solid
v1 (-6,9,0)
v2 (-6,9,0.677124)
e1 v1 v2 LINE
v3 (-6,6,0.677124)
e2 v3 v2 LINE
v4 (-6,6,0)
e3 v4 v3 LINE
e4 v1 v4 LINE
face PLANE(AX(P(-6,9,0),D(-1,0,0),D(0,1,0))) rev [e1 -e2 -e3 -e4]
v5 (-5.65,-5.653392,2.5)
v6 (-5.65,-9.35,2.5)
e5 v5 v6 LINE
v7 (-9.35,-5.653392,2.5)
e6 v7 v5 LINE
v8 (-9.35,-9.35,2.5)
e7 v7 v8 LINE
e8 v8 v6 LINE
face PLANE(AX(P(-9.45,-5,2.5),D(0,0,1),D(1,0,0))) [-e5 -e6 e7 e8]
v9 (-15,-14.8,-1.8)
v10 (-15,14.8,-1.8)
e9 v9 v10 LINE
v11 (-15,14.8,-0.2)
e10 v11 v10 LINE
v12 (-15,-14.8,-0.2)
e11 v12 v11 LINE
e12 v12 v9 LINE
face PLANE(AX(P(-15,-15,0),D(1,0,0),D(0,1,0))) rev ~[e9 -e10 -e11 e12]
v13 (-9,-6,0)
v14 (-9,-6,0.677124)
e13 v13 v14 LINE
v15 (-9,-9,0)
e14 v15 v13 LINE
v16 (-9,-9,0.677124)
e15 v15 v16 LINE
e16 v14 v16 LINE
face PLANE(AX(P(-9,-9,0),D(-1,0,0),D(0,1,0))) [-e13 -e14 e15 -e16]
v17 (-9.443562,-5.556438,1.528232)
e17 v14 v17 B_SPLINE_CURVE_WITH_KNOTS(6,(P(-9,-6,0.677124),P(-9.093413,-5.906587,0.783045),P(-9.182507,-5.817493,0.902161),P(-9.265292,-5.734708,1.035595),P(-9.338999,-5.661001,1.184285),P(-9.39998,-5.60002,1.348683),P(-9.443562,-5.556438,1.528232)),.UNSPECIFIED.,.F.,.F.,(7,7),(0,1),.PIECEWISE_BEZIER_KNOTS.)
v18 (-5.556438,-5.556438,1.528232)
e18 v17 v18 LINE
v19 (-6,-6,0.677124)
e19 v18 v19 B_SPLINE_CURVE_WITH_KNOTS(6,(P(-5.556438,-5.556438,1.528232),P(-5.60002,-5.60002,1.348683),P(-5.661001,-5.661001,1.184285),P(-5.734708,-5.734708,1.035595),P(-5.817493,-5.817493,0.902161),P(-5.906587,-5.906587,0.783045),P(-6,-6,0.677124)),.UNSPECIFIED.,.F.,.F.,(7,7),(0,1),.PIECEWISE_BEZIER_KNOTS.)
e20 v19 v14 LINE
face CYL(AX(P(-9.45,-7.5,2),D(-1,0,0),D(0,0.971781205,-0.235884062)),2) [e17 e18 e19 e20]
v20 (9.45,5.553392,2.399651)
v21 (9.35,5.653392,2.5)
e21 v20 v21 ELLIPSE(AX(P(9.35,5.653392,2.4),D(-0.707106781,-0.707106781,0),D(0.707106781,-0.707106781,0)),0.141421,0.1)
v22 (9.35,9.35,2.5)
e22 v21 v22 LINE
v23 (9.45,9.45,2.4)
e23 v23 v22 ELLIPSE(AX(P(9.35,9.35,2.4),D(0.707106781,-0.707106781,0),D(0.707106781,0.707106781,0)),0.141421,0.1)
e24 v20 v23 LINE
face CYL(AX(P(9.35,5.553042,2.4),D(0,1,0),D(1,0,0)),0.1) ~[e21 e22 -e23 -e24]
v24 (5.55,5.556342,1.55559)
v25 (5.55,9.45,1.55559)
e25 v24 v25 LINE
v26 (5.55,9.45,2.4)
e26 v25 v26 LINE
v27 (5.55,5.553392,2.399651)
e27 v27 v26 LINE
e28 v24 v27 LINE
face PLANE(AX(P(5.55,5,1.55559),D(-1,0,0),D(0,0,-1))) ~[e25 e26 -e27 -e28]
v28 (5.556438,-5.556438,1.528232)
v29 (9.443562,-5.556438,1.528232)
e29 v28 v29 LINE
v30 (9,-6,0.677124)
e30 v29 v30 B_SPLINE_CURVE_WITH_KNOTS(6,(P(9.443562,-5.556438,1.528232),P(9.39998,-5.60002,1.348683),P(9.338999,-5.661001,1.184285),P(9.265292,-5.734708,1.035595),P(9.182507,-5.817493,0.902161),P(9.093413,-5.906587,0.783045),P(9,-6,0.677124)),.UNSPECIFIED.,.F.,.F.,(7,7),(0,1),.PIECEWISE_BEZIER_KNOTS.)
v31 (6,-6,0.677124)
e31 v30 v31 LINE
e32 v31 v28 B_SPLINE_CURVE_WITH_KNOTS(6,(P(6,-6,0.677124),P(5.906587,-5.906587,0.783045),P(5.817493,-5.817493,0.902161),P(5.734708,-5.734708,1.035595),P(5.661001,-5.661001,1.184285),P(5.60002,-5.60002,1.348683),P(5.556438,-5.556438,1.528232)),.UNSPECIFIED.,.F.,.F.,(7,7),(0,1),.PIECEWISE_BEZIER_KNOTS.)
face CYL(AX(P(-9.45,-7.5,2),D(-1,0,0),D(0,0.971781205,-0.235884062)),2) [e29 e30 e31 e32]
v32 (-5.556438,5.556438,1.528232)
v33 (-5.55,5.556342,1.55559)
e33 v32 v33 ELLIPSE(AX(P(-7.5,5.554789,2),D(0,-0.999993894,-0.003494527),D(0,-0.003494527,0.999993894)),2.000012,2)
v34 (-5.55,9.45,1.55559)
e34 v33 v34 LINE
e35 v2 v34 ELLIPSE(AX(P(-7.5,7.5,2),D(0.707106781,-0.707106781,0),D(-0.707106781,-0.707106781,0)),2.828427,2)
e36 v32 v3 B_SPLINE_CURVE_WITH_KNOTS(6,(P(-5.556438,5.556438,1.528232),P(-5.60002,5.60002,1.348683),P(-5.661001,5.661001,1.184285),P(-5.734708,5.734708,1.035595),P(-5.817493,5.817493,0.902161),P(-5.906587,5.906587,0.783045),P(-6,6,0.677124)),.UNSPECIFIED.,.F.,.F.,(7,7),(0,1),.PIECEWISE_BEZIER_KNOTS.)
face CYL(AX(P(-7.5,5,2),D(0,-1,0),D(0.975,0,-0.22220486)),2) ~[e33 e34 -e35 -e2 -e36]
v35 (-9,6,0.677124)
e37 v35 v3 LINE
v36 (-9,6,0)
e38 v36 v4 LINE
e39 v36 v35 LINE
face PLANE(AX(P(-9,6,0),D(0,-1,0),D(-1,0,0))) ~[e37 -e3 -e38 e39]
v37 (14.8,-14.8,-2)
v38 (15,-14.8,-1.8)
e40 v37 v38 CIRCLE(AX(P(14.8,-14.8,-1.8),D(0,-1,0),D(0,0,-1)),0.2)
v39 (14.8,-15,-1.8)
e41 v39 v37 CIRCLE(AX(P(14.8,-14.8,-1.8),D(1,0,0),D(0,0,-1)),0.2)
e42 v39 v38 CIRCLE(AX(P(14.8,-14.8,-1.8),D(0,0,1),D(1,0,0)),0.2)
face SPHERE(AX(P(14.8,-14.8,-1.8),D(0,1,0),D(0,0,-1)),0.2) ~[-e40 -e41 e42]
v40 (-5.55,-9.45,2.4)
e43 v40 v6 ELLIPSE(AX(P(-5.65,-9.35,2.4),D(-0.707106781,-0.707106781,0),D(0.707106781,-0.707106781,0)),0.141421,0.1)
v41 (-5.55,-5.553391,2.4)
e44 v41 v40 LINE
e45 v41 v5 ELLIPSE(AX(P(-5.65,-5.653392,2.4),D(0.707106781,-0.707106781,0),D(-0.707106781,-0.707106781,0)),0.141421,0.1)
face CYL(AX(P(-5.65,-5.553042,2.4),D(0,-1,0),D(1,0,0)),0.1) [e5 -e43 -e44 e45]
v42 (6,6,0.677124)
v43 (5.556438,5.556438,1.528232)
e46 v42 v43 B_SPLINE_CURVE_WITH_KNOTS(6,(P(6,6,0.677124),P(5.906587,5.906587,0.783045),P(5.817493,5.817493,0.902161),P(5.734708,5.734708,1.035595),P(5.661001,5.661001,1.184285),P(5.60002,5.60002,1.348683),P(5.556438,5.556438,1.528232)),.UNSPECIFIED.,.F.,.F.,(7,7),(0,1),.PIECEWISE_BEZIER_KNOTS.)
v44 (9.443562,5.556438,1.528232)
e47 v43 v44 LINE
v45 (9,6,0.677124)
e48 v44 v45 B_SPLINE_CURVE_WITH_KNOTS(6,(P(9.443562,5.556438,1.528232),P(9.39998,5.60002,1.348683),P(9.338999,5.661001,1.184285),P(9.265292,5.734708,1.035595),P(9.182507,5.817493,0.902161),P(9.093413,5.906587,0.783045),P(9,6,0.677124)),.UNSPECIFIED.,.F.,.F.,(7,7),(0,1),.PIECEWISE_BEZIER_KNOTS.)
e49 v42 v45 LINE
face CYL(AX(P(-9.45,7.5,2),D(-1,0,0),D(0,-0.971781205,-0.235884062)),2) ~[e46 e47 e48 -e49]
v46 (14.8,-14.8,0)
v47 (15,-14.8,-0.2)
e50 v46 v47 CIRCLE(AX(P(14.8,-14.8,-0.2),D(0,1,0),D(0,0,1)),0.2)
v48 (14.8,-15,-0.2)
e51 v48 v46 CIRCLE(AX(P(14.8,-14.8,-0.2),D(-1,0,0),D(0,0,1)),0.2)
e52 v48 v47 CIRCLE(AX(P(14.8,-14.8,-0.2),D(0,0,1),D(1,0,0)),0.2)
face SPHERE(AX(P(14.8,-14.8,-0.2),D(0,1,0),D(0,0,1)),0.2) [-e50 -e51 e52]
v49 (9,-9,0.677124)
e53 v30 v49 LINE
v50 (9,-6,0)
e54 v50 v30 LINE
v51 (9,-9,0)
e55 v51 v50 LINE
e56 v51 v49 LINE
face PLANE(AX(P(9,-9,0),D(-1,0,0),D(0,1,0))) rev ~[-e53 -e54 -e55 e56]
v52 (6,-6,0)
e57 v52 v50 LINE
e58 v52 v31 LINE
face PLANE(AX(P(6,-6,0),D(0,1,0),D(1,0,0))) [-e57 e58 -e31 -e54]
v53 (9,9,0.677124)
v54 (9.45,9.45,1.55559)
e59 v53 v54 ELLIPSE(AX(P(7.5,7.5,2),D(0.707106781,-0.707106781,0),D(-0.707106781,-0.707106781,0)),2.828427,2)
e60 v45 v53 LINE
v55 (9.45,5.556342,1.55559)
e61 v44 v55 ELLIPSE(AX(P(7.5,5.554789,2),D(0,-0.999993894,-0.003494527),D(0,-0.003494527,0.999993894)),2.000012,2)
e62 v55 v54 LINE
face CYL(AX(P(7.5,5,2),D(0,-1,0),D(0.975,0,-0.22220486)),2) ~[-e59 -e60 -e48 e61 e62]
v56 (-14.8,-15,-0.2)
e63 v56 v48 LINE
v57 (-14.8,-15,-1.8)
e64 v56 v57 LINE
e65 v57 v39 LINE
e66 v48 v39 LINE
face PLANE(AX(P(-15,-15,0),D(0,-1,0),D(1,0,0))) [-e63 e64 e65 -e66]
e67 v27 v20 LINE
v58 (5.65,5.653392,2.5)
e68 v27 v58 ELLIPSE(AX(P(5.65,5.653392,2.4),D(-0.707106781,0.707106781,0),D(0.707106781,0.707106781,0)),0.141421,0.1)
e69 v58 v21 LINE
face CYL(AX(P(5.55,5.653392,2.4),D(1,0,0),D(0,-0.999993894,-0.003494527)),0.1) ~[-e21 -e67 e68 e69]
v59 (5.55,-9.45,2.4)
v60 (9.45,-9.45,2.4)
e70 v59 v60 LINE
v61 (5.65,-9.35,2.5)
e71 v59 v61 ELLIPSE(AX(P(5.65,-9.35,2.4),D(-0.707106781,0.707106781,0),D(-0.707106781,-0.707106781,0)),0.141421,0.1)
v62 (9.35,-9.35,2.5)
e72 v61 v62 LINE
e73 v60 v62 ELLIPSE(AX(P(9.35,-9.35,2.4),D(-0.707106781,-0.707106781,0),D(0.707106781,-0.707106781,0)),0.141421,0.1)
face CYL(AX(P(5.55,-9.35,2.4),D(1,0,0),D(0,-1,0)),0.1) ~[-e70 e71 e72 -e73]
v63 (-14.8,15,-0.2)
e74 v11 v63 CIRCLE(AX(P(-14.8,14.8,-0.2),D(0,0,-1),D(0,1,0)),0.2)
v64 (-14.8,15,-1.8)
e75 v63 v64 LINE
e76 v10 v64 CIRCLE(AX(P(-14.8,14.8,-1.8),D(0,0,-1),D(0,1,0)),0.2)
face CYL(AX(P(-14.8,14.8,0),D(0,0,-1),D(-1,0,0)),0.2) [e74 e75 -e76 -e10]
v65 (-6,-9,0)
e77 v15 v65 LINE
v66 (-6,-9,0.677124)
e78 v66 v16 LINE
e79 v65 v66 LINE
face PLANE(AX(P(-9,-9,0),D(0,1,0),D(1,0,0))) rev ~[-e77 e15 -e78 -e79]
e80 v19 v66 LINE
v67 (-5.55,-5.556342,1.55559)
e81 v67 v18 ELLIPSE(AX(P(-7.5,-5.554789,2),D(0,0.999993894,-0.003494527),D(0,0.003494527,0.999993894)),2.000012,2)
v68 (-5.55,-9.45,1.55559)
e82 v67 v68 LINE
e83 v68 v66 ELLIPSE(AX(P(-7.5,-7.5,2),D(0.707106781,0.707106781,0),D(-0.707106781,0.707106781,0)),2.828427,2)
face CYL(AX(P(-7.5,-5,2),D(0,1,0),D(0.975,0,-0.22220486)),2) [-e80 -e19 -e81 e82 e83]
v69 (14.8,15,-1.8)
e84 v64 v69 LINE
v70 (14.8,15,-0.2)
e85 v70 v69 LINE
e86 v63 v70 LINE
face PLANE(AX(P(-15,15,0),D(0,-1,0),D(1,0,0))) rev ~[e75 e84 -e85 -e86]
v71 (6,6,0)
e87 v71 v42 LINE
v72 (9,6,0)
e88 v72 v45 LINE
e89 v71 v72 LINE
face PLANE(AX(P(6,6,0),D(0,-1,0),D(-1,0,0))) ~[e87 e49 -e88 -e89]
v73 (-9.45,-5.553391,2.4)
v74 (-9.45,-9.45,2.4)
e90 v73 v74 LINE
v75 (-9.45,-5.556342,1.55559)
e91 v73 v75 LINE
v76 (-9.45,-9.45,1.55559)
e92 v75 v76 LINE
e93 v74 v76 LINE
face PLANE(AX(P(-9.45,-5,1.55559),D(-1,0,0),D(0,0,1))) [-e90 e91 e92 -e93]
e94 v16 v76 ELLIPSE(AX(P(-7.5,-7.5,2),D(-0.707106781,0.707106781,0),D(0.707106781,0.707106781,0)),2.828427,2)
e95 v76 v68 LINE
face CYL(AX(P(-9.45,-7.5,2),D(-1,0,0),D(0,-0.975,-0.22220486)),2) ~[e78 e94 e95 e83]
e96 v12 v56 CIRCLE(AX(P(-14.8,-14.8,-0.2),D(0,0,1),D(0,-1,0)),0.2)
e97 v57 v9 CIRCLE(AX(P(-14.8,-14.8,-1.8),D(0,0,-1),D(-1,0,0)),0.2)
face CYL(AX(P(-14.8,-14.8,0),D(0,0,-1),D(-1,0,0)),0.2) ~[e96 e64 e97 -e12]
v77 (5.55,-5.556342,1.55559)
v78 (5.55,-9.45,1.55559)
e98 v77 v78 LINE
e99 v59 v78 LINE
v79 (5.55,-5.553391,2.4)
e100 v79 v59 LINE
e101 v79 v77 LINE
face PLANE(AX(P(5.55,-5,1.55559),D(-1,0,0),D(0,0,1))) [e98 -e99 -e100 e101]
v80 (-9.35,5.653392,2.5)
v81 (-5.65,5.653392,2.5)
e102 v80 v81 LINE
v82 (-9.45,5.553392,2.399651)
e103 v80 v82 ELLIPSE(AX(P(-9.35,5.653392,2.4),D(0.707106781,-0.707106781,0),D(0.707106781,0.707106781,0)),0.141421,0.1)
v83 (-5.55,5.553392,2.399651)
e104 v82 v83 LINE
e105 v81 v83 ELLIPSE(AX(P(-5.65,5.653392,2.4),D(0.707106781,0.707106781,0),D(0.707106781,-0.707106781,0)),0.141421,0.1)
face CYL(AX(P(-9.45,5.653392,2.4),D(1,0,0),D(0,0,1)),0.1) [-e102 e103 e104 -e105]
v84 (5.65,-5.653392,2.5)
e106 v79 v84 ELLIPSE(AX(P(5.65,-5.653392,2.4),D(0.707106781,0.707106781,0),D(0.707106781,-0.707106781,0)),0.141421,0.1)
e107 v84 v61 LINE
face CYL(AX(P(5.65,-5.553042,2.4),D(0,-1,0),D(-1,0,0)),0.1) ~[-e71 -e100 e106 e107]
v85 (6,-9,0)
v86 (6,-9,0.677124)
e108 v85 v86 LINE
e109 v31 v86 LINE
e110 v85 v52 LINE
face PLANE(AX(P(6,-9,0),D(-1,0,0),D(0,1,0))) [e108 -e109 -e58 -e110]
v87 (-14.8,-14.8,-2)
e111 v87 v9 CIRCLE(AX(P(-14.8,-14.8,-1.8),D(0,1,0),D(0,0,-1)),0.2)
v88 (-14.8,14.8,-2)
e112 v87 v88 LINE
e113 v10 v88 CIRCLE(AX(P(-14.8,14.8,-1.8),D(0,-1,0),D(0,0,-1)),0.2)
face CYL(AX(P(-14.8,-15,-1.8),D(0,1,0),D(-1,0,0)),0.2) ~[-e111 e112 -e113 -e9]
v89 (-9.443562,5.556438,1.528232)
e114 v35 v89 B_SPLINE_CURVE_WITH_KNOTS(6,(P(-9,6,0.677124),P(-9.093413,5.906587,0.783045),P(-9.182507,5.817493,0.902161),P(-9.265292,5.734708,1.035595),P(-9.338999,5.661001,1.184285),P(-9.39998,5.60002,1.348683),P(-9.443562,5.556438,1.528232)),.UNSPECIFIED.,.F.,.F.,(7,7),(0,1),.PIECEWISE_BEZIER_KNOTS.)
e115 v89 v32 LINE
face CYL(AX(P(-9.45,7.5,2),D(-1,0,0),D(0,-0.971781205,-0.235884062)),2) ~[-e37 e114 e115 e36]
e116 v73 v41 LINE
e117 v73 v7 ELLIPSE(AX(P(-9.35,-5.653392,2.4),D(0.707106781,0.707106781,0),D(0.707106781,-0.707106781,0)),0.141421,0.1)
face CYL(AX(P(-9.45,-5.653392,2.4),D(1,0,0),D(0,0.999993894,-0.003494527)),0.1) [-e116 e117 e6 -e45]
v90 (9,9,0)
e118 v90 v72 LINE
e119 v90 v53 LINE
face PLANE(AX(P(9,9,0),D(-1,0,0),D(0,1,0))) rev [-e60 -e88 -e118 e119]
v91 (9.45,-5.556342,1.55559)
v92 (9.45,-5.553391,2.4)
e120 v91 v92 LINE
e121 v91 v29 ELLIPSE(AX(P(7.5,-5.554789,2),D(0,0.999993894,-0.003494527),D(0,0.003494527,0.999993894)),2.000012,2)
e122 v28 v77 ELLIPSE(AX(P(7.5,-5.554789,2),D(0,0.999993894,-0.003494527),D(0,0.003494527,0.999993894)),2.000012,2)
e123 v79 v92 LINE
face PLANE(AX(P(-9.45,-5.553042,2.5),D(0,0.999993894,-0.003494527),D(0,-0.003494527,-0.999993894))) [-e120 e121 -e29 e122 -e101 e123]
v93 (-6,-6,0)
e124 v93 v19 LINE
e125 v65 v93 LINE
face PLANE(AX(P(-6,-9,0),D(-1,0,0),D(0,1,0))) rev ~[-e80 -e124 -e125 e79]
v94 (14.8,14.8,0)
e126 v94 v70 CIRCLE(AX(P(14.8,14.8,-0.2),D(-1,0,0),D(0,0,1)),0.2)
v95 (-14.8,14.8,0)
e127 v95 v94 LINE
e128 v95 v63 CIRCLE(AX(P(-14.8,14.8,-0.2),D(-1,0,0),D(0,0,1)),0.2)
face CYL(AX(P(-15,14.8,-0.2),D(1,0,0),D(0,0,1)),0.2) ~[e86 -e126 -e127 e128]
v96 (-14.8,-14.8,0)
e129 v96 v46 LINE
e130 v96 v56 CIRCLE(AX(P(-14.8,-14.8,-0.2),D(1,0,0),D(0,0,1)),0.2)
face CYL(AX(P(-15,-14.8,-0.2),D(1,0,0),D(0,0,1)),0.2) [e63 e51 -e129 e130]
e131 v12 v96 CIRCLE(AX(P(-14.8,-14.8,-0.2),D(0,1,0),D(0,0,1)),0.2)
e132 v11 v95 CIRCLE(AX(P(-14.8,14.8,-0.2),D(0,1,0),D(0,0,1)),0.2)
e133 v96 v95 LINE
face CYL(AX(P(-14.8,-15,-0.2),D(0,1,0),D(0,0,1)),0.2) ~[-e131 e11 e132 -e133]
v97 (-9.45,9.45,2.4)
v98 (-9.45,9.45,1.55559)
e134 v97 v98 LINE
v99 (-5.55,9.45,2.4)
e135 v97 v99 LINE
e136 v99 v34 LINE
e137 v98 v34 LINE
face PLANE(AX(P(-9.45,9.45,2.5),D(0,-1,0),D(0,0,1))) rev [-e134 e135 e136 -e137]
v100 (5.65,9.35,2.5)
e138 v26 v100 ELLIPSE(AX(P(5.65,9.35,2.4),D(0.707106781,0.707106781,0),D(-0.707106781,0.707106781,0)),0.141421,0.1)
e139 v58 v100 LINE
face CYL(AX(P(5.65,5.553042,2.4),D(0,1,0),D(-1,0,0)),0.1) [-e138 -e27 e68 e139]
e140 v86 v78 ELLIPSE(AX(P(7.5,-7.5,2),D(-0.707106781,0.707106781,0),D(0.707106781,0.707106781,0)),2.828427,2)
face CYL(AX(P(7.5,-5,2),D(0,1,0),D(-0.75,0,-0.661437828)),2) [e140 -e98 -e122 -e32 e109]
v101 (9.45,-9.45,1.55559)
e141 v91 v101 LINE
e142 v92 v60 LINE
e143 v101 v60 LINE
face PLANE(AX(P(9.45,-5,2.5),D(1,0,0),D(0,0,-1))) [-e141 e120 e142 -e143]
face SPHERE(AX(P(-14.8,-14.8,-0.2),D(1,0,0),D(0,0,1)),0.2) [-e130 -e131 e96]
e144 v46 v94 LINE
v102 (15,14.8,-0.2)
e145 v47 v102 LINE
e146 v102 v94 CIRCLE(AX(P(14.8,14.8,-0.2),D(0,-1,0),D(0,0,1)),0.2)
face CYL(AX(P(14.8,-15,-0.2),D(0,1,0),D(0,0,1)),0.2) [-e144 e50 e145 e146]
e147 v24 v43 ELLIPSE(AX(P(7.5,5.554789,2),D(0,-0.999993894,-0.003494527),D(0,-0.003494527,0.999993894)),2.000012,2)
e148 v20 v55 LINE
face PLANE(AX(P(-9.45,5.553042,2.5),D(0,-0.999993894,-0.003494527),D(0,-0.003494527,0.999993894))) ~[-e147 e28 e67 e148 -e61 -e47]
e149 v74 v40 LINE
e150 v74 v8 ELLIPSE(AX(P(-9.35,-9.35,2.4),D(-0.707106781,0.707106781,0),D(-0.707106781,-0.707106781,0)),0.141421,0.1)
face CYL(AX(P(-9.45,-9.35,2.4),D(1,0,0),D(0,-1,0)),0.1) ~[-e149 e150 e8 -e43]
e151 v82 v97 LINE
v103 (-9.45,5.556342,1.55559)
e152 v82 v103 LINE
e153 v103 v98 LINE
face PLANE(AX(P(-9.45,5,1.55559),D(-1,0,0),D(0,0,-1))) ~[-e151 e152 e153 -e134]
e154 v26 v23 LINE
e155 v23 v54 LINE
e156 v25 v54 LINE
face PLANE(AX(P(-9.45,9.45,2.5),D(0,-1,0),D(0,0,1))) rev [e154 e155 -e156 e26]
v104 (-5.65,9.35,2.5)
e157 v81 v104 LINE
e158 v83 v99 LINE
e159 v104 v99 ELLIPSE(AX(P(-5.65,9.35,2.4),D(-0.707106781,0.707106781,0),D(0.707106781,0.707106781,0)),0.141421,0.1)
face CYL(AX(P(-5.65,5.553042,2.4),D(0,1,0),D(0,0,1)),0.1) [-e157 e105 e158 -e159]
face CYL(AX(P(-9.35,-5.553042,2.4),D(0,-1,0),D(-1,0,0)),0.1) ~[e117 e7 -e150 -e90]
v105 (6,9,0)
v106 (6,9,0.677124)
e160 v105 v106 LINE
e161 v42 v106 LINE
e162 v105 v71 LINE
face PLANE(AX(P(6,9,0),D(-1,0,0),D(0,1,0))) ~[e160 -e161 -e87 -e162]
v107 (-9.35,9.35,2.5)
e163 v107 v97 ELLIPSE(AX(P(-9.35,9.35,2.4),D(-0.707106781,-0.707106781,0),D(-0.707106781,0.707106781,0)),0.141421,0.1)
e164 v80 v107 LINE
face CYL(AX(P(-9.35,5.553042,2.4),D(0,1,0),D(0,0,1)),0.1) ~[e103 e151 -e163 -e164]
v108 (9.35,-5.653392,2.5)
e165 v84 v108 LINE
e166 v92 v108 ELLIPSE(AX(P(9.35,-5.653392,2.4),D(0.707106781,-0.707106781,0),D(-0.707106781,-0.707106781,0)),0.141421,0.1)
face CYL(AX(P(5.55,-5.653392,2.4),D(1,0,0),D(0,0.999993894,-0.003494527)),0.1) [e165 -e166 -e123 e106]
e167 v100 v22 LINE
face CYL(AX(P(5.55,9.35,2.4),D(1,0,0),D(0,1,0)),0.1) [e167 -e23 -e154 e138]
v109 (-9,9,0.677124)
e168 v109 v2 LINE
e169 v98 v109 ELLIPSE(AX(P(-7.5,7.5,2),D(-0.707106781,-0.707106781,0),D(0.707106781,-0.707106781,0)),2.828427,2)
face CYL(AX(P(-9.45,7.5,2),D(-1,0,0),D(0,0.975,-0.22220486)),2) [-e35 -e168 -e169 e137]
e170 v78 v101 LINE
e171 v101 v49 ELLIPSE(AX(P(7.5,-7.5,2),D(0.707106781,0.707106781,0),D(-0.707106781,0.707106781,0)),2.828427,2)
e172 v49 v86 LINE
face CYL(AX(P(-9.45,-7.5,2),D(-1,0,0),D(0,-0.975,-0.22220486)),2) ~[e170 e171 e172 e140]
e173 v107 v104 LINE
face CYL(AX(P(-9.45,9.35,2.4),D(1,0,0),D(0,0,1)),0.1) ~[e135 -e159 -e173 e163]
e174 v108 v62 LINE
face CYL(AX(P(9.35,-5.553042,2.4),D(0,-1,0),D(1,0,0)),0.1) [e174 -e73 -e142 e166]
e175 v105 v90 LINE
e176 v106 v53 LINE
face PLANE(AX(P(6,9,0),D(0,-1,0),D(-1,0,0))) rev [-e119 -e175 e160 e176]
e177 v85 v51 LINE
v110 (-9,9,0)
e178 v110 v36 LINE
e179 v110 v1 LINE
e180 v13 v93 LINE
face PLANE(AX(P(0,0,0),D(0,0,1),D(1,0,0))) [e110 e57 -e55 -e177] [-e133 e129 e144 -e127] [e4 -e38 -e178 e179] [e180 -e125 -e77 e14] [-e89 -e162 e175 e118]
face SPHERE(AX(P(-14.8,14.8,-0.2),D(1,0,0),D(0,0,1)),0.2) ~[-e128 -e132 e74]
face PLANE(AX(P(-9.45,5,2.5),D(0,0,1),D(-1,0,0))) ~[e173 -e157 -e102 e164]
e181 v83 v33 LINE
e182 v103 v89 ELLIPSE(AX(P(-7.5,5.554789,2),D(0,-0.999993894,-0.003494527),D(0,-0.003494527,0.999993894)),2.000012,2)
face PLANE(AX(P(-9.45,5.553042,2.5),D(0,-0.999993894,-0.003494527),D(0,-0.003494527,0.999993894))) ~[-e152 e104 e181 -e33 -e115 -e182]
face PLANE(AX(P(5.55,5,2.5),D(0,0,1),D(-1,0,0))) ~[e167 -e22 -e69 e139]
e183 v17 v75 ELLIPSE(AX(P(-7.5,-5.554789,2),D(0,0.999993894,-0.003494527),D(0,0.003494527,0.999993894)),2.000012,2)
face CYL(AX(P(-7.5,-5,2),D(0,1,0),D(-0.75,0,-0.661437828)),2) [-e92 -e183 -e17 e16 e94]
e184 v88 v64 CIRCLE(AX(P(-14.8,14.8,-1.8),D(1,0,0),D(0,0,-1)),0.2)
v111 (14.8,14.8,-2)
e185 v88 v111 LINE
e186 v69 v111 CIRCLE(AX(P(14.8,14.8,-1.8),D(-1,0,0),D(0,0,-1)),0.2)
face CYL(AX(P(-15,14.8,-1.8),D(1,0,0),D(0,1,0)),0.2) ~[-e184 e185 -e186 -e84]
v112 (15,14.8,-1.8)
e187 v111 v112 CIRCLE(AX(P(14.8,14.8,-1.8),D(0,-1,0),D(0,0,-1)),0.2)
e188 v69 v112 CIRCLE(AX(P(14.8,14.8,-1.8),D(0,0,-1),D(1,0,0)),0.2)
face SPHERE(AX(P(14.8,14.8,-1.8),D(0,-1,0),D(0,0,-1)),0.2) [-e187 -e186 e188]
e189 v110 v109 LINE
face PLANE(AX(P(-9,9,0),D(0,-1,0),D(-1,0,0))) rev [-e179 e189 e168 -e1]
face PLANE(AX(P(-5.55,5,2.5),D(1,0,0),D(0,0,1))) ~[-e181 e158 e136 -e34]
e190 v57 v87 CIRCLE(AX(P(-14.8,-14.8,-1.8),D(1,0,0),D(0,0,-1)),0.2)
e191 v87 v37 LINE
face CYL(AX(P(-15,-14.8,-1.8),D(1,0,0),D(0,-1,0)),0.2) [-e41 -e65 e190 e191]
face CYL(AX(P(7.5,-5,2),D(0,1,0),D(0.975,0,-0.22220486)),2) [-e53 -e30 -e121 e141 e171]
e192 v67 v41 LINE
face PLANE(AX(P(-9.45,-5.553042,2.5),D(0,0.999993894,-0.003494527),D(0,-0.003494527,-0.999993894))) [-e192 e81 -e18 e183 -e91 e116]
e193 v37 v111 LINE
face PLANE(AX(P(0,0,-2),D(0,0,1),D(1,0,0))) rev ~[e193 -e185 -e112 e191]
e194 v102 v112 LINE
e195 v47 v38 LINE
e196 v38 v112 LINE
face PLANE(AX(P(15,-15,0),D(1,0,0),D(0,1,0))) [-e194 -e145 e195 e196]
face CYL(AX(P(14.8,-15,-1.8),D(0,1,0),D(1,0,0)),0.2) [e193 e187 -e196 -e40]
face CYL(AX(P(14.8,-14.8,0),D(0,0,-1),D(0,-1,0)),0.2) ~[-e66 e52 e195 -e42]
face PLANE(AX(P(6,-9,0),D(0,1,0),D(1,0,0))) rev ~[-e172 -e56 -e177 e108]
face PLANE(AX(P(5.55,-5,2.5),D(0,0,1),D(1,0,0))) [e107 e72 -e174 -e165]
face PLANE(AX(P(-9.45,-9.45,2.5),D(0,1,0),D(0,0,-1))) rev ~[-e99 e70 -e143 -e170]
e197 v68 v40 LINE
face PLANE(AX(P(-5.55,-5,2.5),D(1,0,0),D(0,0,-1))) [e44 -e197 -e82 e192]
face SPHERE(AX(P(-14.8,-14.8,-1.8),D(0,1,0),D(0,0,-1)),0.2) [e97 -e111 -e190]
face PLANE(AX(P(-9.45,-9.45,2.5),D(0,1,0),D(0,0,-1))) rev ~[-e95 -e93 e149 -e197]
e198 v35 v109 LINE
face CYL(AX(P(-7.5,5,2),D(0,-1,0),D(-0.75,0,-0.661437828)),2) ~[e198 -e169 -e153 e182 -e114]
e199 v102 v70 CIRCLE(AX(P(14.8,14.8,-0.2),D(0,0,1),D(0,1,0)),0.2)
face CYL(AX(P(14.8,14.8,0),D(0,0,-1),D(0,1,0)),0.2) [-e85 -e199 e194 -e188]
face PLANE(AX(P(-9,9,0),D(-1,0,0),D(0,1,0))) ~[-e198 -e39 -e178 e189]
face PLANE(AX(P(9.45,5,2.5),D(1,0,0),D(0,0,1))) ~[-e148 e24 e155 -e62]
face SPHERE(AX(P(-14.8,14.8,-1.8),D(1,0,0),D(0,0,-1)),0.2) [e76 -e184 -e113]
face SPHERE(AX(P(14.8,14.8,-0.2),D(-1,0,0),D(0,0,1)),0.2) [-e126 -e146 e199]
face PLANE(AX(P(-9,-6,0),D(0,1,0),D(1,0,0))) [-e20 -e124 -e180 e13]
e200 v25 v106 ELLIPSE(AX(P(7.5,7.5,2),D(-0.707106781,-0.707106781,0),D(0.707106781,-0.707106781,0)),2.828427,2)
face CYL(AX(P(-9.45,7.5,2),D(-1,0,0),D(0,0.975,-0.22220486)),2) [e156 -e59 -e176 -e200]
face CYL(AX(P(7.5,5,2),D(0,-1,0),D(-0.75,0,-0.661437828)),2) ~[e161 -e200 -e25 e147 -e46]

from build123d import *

# Parameters (mm, degrees)
SKETCH_1_W          = 30
SKETCH_1_H          = 30
EXTRUDE_1_DEPTH     = 2
SKETCH_2_W          = 3
SKETCH_2_H          = 3
EXTRUDE_2_DEPTH     = 1
EXTRUDE_START       = 5
EXTRUDE_3_DEPTH     = 5
CUT_EXTRUDE_1_DEPTH = 29.793271784
FILLET_1_R          = 0.1
FILLET_2_R          = 0.2


with BuildPart() as part:
    # 草图1 → 凸台-拉伸1 (new body)
    with BuildSketch(Plane.XY):
        Rectangle(SKETCH_1_W, SKETCH_1_H)
    extrude(amount=-EXTRUDE_1_DEPTH)

    # 草图2 → 凸台-拉伸2 (add)
    with BuildSketch(Plane.XY):
        with Locations((-7.5, -7.5)):
            Rectangle(SKETCH_2_W, SKETCH_2_H)
        with Locations((7.5, -7.5)):
            Rectangle(SKETCH_2_W, SKETCH_2_H)
    extrude_2 = extrude(amount=EXTRUDE_2_DEPTH)

    # 草图3 → 凸台-拉伸3 (add)
    with BuildSketch(Plane.XZ.offset(EXTRUDE_START)):
        with BuildLine():
            Line((-9.45, 2.5), (-5.55, 2.5))
            Line((-5.55, 2.5), (-5.55, 1.555590279))
            ThreePointArc((-5.55, 1.555590279), (-5.719957697, 1.088161527), (-6, 0.677124344))
            Line((-6, 0.677124344), (-9, 0.677124344))
            ThreePointArc((-9, 0.677124344), (-9.280042303, 1.088161527), (-9.45, 1.555590279))
            Line((-9.45, 1.555590279), (-9.45, 2.5))
        make_face()
        with BuildLine():
            Line((9, 0.677124344), (6, 0.677124344))
            ThreePointArc((6, 0.677124344), (5.719957697, 1.088161527), (5.55, 1.555590279))
            Line((5.55, 1.555590279), (5.55, 2.5))
            Line((5.55, 2.5), (9.45, 2.5))
            Line((9.45, 2.5), (9.45, 1.555590279))
            ThreePointArc((9.45, 1.555590279), (9.280042303, 1.088161527), (9, 0.677124344))
        make_face()
    extrude_3 = extrude(amount=EXTRUDE_3_DEPTH)

    # 草图4 → 切除-拉伸1 (cut, through all)
    with BuildSketch(Plane.ZY.offset(9.45)):
        with BuildLine():
            Line((2.5, -5.5530417), (1.528231876, -5.556437591))
            ThreePointArc((1.528231876, -5.556437591), (1.075676747, -5.72640858), (0.677124344, -6))
            Line((0.677124344, -6), (0.677124344, -5))
            Line((0.677124344, -5), (2.5, -5))
            Line((2.5, -5), (2.5, -5.5530417))
        make_face()
        with BuildLine():
            Line((0.677124344, -10), (2.5, -10))
            Line((2.5, -10), (2.5, -9.45))
            Line((2.5, -9.45), (1.555590279, -9.45))
            ThreePointArc((1.555590279, -9.45), (1.088161527, -9.280042303), (0.677124344, -9))
            Line((0.677124344, -9), (0.677124344, -10))
        make_face()
    cut_extrude_1 = extrude(amount=-CUT_EXTRUDE_1_DEPTH, mode=Mode.SUBTRACT)

    # 镜向1: 凸台-拉伸2, 凸台-拉伸3, 切除-拉伸1 across plane
    add(extrude_2.mirror(Plane.ZX))
    add(extrude_3.mirror(Plane.ZX))
    add(cut_extrude_1.mirror(Plane.ZX), mode=Mode.SUBTRACT)

    # 圆角1
    fillet_1_edges = [part.edges().sort_by_distance(p)[0] for p in [
        (-5.55, -7.50152085, 2.5),
        (-9.45, -7.50152085, 2.5),
        (5.55, -7.50152085, 2.5),
        (9.45, -7.50152085, 2.5),
        (7.5, -9.45, 2.5),
        (-7.5, -9.45, 2.5),
        (7.5, 5.5530417, 2.5),
        (-7.5, 5.5530417, 2.5),
        (-5.55, 7.50152085, 2.5),
        (-9.45, 7.50152085, 2.5),
        (9.45, 7.50152085, 2.5),
        (5.55, 7.50152085, 2.5),
        (7.5, 9.45, 2.5),
        (-7.5, 9.45, 2.5),
        (7.5, -5.5530417, 2.5),
        (-7.5, -5.5530417, 2.5),
    ]]
    fillet(fillet_1_edges, radius=FILLET_1_R)

    # 圆角2
    fillet_2_edges = [part.edges().sort_by_distance(p)[0] for p in [
        (15, 0, -2),
        (0, 15, -2),
        (-15, 0, -2),
        (0, 15, 0),
        (15, 0, 0),
        (0, -15, 0),
        (-15, 0, 0),
        (0, -15, -2),
        (-15, 15, -1),
        (15, 15, -1),
        (15, -15, -1),
        (-15, -15, -1),
    ]]
    fillet(fillet_2_edges, radius=FILLET_2_R)


solid = part.part
